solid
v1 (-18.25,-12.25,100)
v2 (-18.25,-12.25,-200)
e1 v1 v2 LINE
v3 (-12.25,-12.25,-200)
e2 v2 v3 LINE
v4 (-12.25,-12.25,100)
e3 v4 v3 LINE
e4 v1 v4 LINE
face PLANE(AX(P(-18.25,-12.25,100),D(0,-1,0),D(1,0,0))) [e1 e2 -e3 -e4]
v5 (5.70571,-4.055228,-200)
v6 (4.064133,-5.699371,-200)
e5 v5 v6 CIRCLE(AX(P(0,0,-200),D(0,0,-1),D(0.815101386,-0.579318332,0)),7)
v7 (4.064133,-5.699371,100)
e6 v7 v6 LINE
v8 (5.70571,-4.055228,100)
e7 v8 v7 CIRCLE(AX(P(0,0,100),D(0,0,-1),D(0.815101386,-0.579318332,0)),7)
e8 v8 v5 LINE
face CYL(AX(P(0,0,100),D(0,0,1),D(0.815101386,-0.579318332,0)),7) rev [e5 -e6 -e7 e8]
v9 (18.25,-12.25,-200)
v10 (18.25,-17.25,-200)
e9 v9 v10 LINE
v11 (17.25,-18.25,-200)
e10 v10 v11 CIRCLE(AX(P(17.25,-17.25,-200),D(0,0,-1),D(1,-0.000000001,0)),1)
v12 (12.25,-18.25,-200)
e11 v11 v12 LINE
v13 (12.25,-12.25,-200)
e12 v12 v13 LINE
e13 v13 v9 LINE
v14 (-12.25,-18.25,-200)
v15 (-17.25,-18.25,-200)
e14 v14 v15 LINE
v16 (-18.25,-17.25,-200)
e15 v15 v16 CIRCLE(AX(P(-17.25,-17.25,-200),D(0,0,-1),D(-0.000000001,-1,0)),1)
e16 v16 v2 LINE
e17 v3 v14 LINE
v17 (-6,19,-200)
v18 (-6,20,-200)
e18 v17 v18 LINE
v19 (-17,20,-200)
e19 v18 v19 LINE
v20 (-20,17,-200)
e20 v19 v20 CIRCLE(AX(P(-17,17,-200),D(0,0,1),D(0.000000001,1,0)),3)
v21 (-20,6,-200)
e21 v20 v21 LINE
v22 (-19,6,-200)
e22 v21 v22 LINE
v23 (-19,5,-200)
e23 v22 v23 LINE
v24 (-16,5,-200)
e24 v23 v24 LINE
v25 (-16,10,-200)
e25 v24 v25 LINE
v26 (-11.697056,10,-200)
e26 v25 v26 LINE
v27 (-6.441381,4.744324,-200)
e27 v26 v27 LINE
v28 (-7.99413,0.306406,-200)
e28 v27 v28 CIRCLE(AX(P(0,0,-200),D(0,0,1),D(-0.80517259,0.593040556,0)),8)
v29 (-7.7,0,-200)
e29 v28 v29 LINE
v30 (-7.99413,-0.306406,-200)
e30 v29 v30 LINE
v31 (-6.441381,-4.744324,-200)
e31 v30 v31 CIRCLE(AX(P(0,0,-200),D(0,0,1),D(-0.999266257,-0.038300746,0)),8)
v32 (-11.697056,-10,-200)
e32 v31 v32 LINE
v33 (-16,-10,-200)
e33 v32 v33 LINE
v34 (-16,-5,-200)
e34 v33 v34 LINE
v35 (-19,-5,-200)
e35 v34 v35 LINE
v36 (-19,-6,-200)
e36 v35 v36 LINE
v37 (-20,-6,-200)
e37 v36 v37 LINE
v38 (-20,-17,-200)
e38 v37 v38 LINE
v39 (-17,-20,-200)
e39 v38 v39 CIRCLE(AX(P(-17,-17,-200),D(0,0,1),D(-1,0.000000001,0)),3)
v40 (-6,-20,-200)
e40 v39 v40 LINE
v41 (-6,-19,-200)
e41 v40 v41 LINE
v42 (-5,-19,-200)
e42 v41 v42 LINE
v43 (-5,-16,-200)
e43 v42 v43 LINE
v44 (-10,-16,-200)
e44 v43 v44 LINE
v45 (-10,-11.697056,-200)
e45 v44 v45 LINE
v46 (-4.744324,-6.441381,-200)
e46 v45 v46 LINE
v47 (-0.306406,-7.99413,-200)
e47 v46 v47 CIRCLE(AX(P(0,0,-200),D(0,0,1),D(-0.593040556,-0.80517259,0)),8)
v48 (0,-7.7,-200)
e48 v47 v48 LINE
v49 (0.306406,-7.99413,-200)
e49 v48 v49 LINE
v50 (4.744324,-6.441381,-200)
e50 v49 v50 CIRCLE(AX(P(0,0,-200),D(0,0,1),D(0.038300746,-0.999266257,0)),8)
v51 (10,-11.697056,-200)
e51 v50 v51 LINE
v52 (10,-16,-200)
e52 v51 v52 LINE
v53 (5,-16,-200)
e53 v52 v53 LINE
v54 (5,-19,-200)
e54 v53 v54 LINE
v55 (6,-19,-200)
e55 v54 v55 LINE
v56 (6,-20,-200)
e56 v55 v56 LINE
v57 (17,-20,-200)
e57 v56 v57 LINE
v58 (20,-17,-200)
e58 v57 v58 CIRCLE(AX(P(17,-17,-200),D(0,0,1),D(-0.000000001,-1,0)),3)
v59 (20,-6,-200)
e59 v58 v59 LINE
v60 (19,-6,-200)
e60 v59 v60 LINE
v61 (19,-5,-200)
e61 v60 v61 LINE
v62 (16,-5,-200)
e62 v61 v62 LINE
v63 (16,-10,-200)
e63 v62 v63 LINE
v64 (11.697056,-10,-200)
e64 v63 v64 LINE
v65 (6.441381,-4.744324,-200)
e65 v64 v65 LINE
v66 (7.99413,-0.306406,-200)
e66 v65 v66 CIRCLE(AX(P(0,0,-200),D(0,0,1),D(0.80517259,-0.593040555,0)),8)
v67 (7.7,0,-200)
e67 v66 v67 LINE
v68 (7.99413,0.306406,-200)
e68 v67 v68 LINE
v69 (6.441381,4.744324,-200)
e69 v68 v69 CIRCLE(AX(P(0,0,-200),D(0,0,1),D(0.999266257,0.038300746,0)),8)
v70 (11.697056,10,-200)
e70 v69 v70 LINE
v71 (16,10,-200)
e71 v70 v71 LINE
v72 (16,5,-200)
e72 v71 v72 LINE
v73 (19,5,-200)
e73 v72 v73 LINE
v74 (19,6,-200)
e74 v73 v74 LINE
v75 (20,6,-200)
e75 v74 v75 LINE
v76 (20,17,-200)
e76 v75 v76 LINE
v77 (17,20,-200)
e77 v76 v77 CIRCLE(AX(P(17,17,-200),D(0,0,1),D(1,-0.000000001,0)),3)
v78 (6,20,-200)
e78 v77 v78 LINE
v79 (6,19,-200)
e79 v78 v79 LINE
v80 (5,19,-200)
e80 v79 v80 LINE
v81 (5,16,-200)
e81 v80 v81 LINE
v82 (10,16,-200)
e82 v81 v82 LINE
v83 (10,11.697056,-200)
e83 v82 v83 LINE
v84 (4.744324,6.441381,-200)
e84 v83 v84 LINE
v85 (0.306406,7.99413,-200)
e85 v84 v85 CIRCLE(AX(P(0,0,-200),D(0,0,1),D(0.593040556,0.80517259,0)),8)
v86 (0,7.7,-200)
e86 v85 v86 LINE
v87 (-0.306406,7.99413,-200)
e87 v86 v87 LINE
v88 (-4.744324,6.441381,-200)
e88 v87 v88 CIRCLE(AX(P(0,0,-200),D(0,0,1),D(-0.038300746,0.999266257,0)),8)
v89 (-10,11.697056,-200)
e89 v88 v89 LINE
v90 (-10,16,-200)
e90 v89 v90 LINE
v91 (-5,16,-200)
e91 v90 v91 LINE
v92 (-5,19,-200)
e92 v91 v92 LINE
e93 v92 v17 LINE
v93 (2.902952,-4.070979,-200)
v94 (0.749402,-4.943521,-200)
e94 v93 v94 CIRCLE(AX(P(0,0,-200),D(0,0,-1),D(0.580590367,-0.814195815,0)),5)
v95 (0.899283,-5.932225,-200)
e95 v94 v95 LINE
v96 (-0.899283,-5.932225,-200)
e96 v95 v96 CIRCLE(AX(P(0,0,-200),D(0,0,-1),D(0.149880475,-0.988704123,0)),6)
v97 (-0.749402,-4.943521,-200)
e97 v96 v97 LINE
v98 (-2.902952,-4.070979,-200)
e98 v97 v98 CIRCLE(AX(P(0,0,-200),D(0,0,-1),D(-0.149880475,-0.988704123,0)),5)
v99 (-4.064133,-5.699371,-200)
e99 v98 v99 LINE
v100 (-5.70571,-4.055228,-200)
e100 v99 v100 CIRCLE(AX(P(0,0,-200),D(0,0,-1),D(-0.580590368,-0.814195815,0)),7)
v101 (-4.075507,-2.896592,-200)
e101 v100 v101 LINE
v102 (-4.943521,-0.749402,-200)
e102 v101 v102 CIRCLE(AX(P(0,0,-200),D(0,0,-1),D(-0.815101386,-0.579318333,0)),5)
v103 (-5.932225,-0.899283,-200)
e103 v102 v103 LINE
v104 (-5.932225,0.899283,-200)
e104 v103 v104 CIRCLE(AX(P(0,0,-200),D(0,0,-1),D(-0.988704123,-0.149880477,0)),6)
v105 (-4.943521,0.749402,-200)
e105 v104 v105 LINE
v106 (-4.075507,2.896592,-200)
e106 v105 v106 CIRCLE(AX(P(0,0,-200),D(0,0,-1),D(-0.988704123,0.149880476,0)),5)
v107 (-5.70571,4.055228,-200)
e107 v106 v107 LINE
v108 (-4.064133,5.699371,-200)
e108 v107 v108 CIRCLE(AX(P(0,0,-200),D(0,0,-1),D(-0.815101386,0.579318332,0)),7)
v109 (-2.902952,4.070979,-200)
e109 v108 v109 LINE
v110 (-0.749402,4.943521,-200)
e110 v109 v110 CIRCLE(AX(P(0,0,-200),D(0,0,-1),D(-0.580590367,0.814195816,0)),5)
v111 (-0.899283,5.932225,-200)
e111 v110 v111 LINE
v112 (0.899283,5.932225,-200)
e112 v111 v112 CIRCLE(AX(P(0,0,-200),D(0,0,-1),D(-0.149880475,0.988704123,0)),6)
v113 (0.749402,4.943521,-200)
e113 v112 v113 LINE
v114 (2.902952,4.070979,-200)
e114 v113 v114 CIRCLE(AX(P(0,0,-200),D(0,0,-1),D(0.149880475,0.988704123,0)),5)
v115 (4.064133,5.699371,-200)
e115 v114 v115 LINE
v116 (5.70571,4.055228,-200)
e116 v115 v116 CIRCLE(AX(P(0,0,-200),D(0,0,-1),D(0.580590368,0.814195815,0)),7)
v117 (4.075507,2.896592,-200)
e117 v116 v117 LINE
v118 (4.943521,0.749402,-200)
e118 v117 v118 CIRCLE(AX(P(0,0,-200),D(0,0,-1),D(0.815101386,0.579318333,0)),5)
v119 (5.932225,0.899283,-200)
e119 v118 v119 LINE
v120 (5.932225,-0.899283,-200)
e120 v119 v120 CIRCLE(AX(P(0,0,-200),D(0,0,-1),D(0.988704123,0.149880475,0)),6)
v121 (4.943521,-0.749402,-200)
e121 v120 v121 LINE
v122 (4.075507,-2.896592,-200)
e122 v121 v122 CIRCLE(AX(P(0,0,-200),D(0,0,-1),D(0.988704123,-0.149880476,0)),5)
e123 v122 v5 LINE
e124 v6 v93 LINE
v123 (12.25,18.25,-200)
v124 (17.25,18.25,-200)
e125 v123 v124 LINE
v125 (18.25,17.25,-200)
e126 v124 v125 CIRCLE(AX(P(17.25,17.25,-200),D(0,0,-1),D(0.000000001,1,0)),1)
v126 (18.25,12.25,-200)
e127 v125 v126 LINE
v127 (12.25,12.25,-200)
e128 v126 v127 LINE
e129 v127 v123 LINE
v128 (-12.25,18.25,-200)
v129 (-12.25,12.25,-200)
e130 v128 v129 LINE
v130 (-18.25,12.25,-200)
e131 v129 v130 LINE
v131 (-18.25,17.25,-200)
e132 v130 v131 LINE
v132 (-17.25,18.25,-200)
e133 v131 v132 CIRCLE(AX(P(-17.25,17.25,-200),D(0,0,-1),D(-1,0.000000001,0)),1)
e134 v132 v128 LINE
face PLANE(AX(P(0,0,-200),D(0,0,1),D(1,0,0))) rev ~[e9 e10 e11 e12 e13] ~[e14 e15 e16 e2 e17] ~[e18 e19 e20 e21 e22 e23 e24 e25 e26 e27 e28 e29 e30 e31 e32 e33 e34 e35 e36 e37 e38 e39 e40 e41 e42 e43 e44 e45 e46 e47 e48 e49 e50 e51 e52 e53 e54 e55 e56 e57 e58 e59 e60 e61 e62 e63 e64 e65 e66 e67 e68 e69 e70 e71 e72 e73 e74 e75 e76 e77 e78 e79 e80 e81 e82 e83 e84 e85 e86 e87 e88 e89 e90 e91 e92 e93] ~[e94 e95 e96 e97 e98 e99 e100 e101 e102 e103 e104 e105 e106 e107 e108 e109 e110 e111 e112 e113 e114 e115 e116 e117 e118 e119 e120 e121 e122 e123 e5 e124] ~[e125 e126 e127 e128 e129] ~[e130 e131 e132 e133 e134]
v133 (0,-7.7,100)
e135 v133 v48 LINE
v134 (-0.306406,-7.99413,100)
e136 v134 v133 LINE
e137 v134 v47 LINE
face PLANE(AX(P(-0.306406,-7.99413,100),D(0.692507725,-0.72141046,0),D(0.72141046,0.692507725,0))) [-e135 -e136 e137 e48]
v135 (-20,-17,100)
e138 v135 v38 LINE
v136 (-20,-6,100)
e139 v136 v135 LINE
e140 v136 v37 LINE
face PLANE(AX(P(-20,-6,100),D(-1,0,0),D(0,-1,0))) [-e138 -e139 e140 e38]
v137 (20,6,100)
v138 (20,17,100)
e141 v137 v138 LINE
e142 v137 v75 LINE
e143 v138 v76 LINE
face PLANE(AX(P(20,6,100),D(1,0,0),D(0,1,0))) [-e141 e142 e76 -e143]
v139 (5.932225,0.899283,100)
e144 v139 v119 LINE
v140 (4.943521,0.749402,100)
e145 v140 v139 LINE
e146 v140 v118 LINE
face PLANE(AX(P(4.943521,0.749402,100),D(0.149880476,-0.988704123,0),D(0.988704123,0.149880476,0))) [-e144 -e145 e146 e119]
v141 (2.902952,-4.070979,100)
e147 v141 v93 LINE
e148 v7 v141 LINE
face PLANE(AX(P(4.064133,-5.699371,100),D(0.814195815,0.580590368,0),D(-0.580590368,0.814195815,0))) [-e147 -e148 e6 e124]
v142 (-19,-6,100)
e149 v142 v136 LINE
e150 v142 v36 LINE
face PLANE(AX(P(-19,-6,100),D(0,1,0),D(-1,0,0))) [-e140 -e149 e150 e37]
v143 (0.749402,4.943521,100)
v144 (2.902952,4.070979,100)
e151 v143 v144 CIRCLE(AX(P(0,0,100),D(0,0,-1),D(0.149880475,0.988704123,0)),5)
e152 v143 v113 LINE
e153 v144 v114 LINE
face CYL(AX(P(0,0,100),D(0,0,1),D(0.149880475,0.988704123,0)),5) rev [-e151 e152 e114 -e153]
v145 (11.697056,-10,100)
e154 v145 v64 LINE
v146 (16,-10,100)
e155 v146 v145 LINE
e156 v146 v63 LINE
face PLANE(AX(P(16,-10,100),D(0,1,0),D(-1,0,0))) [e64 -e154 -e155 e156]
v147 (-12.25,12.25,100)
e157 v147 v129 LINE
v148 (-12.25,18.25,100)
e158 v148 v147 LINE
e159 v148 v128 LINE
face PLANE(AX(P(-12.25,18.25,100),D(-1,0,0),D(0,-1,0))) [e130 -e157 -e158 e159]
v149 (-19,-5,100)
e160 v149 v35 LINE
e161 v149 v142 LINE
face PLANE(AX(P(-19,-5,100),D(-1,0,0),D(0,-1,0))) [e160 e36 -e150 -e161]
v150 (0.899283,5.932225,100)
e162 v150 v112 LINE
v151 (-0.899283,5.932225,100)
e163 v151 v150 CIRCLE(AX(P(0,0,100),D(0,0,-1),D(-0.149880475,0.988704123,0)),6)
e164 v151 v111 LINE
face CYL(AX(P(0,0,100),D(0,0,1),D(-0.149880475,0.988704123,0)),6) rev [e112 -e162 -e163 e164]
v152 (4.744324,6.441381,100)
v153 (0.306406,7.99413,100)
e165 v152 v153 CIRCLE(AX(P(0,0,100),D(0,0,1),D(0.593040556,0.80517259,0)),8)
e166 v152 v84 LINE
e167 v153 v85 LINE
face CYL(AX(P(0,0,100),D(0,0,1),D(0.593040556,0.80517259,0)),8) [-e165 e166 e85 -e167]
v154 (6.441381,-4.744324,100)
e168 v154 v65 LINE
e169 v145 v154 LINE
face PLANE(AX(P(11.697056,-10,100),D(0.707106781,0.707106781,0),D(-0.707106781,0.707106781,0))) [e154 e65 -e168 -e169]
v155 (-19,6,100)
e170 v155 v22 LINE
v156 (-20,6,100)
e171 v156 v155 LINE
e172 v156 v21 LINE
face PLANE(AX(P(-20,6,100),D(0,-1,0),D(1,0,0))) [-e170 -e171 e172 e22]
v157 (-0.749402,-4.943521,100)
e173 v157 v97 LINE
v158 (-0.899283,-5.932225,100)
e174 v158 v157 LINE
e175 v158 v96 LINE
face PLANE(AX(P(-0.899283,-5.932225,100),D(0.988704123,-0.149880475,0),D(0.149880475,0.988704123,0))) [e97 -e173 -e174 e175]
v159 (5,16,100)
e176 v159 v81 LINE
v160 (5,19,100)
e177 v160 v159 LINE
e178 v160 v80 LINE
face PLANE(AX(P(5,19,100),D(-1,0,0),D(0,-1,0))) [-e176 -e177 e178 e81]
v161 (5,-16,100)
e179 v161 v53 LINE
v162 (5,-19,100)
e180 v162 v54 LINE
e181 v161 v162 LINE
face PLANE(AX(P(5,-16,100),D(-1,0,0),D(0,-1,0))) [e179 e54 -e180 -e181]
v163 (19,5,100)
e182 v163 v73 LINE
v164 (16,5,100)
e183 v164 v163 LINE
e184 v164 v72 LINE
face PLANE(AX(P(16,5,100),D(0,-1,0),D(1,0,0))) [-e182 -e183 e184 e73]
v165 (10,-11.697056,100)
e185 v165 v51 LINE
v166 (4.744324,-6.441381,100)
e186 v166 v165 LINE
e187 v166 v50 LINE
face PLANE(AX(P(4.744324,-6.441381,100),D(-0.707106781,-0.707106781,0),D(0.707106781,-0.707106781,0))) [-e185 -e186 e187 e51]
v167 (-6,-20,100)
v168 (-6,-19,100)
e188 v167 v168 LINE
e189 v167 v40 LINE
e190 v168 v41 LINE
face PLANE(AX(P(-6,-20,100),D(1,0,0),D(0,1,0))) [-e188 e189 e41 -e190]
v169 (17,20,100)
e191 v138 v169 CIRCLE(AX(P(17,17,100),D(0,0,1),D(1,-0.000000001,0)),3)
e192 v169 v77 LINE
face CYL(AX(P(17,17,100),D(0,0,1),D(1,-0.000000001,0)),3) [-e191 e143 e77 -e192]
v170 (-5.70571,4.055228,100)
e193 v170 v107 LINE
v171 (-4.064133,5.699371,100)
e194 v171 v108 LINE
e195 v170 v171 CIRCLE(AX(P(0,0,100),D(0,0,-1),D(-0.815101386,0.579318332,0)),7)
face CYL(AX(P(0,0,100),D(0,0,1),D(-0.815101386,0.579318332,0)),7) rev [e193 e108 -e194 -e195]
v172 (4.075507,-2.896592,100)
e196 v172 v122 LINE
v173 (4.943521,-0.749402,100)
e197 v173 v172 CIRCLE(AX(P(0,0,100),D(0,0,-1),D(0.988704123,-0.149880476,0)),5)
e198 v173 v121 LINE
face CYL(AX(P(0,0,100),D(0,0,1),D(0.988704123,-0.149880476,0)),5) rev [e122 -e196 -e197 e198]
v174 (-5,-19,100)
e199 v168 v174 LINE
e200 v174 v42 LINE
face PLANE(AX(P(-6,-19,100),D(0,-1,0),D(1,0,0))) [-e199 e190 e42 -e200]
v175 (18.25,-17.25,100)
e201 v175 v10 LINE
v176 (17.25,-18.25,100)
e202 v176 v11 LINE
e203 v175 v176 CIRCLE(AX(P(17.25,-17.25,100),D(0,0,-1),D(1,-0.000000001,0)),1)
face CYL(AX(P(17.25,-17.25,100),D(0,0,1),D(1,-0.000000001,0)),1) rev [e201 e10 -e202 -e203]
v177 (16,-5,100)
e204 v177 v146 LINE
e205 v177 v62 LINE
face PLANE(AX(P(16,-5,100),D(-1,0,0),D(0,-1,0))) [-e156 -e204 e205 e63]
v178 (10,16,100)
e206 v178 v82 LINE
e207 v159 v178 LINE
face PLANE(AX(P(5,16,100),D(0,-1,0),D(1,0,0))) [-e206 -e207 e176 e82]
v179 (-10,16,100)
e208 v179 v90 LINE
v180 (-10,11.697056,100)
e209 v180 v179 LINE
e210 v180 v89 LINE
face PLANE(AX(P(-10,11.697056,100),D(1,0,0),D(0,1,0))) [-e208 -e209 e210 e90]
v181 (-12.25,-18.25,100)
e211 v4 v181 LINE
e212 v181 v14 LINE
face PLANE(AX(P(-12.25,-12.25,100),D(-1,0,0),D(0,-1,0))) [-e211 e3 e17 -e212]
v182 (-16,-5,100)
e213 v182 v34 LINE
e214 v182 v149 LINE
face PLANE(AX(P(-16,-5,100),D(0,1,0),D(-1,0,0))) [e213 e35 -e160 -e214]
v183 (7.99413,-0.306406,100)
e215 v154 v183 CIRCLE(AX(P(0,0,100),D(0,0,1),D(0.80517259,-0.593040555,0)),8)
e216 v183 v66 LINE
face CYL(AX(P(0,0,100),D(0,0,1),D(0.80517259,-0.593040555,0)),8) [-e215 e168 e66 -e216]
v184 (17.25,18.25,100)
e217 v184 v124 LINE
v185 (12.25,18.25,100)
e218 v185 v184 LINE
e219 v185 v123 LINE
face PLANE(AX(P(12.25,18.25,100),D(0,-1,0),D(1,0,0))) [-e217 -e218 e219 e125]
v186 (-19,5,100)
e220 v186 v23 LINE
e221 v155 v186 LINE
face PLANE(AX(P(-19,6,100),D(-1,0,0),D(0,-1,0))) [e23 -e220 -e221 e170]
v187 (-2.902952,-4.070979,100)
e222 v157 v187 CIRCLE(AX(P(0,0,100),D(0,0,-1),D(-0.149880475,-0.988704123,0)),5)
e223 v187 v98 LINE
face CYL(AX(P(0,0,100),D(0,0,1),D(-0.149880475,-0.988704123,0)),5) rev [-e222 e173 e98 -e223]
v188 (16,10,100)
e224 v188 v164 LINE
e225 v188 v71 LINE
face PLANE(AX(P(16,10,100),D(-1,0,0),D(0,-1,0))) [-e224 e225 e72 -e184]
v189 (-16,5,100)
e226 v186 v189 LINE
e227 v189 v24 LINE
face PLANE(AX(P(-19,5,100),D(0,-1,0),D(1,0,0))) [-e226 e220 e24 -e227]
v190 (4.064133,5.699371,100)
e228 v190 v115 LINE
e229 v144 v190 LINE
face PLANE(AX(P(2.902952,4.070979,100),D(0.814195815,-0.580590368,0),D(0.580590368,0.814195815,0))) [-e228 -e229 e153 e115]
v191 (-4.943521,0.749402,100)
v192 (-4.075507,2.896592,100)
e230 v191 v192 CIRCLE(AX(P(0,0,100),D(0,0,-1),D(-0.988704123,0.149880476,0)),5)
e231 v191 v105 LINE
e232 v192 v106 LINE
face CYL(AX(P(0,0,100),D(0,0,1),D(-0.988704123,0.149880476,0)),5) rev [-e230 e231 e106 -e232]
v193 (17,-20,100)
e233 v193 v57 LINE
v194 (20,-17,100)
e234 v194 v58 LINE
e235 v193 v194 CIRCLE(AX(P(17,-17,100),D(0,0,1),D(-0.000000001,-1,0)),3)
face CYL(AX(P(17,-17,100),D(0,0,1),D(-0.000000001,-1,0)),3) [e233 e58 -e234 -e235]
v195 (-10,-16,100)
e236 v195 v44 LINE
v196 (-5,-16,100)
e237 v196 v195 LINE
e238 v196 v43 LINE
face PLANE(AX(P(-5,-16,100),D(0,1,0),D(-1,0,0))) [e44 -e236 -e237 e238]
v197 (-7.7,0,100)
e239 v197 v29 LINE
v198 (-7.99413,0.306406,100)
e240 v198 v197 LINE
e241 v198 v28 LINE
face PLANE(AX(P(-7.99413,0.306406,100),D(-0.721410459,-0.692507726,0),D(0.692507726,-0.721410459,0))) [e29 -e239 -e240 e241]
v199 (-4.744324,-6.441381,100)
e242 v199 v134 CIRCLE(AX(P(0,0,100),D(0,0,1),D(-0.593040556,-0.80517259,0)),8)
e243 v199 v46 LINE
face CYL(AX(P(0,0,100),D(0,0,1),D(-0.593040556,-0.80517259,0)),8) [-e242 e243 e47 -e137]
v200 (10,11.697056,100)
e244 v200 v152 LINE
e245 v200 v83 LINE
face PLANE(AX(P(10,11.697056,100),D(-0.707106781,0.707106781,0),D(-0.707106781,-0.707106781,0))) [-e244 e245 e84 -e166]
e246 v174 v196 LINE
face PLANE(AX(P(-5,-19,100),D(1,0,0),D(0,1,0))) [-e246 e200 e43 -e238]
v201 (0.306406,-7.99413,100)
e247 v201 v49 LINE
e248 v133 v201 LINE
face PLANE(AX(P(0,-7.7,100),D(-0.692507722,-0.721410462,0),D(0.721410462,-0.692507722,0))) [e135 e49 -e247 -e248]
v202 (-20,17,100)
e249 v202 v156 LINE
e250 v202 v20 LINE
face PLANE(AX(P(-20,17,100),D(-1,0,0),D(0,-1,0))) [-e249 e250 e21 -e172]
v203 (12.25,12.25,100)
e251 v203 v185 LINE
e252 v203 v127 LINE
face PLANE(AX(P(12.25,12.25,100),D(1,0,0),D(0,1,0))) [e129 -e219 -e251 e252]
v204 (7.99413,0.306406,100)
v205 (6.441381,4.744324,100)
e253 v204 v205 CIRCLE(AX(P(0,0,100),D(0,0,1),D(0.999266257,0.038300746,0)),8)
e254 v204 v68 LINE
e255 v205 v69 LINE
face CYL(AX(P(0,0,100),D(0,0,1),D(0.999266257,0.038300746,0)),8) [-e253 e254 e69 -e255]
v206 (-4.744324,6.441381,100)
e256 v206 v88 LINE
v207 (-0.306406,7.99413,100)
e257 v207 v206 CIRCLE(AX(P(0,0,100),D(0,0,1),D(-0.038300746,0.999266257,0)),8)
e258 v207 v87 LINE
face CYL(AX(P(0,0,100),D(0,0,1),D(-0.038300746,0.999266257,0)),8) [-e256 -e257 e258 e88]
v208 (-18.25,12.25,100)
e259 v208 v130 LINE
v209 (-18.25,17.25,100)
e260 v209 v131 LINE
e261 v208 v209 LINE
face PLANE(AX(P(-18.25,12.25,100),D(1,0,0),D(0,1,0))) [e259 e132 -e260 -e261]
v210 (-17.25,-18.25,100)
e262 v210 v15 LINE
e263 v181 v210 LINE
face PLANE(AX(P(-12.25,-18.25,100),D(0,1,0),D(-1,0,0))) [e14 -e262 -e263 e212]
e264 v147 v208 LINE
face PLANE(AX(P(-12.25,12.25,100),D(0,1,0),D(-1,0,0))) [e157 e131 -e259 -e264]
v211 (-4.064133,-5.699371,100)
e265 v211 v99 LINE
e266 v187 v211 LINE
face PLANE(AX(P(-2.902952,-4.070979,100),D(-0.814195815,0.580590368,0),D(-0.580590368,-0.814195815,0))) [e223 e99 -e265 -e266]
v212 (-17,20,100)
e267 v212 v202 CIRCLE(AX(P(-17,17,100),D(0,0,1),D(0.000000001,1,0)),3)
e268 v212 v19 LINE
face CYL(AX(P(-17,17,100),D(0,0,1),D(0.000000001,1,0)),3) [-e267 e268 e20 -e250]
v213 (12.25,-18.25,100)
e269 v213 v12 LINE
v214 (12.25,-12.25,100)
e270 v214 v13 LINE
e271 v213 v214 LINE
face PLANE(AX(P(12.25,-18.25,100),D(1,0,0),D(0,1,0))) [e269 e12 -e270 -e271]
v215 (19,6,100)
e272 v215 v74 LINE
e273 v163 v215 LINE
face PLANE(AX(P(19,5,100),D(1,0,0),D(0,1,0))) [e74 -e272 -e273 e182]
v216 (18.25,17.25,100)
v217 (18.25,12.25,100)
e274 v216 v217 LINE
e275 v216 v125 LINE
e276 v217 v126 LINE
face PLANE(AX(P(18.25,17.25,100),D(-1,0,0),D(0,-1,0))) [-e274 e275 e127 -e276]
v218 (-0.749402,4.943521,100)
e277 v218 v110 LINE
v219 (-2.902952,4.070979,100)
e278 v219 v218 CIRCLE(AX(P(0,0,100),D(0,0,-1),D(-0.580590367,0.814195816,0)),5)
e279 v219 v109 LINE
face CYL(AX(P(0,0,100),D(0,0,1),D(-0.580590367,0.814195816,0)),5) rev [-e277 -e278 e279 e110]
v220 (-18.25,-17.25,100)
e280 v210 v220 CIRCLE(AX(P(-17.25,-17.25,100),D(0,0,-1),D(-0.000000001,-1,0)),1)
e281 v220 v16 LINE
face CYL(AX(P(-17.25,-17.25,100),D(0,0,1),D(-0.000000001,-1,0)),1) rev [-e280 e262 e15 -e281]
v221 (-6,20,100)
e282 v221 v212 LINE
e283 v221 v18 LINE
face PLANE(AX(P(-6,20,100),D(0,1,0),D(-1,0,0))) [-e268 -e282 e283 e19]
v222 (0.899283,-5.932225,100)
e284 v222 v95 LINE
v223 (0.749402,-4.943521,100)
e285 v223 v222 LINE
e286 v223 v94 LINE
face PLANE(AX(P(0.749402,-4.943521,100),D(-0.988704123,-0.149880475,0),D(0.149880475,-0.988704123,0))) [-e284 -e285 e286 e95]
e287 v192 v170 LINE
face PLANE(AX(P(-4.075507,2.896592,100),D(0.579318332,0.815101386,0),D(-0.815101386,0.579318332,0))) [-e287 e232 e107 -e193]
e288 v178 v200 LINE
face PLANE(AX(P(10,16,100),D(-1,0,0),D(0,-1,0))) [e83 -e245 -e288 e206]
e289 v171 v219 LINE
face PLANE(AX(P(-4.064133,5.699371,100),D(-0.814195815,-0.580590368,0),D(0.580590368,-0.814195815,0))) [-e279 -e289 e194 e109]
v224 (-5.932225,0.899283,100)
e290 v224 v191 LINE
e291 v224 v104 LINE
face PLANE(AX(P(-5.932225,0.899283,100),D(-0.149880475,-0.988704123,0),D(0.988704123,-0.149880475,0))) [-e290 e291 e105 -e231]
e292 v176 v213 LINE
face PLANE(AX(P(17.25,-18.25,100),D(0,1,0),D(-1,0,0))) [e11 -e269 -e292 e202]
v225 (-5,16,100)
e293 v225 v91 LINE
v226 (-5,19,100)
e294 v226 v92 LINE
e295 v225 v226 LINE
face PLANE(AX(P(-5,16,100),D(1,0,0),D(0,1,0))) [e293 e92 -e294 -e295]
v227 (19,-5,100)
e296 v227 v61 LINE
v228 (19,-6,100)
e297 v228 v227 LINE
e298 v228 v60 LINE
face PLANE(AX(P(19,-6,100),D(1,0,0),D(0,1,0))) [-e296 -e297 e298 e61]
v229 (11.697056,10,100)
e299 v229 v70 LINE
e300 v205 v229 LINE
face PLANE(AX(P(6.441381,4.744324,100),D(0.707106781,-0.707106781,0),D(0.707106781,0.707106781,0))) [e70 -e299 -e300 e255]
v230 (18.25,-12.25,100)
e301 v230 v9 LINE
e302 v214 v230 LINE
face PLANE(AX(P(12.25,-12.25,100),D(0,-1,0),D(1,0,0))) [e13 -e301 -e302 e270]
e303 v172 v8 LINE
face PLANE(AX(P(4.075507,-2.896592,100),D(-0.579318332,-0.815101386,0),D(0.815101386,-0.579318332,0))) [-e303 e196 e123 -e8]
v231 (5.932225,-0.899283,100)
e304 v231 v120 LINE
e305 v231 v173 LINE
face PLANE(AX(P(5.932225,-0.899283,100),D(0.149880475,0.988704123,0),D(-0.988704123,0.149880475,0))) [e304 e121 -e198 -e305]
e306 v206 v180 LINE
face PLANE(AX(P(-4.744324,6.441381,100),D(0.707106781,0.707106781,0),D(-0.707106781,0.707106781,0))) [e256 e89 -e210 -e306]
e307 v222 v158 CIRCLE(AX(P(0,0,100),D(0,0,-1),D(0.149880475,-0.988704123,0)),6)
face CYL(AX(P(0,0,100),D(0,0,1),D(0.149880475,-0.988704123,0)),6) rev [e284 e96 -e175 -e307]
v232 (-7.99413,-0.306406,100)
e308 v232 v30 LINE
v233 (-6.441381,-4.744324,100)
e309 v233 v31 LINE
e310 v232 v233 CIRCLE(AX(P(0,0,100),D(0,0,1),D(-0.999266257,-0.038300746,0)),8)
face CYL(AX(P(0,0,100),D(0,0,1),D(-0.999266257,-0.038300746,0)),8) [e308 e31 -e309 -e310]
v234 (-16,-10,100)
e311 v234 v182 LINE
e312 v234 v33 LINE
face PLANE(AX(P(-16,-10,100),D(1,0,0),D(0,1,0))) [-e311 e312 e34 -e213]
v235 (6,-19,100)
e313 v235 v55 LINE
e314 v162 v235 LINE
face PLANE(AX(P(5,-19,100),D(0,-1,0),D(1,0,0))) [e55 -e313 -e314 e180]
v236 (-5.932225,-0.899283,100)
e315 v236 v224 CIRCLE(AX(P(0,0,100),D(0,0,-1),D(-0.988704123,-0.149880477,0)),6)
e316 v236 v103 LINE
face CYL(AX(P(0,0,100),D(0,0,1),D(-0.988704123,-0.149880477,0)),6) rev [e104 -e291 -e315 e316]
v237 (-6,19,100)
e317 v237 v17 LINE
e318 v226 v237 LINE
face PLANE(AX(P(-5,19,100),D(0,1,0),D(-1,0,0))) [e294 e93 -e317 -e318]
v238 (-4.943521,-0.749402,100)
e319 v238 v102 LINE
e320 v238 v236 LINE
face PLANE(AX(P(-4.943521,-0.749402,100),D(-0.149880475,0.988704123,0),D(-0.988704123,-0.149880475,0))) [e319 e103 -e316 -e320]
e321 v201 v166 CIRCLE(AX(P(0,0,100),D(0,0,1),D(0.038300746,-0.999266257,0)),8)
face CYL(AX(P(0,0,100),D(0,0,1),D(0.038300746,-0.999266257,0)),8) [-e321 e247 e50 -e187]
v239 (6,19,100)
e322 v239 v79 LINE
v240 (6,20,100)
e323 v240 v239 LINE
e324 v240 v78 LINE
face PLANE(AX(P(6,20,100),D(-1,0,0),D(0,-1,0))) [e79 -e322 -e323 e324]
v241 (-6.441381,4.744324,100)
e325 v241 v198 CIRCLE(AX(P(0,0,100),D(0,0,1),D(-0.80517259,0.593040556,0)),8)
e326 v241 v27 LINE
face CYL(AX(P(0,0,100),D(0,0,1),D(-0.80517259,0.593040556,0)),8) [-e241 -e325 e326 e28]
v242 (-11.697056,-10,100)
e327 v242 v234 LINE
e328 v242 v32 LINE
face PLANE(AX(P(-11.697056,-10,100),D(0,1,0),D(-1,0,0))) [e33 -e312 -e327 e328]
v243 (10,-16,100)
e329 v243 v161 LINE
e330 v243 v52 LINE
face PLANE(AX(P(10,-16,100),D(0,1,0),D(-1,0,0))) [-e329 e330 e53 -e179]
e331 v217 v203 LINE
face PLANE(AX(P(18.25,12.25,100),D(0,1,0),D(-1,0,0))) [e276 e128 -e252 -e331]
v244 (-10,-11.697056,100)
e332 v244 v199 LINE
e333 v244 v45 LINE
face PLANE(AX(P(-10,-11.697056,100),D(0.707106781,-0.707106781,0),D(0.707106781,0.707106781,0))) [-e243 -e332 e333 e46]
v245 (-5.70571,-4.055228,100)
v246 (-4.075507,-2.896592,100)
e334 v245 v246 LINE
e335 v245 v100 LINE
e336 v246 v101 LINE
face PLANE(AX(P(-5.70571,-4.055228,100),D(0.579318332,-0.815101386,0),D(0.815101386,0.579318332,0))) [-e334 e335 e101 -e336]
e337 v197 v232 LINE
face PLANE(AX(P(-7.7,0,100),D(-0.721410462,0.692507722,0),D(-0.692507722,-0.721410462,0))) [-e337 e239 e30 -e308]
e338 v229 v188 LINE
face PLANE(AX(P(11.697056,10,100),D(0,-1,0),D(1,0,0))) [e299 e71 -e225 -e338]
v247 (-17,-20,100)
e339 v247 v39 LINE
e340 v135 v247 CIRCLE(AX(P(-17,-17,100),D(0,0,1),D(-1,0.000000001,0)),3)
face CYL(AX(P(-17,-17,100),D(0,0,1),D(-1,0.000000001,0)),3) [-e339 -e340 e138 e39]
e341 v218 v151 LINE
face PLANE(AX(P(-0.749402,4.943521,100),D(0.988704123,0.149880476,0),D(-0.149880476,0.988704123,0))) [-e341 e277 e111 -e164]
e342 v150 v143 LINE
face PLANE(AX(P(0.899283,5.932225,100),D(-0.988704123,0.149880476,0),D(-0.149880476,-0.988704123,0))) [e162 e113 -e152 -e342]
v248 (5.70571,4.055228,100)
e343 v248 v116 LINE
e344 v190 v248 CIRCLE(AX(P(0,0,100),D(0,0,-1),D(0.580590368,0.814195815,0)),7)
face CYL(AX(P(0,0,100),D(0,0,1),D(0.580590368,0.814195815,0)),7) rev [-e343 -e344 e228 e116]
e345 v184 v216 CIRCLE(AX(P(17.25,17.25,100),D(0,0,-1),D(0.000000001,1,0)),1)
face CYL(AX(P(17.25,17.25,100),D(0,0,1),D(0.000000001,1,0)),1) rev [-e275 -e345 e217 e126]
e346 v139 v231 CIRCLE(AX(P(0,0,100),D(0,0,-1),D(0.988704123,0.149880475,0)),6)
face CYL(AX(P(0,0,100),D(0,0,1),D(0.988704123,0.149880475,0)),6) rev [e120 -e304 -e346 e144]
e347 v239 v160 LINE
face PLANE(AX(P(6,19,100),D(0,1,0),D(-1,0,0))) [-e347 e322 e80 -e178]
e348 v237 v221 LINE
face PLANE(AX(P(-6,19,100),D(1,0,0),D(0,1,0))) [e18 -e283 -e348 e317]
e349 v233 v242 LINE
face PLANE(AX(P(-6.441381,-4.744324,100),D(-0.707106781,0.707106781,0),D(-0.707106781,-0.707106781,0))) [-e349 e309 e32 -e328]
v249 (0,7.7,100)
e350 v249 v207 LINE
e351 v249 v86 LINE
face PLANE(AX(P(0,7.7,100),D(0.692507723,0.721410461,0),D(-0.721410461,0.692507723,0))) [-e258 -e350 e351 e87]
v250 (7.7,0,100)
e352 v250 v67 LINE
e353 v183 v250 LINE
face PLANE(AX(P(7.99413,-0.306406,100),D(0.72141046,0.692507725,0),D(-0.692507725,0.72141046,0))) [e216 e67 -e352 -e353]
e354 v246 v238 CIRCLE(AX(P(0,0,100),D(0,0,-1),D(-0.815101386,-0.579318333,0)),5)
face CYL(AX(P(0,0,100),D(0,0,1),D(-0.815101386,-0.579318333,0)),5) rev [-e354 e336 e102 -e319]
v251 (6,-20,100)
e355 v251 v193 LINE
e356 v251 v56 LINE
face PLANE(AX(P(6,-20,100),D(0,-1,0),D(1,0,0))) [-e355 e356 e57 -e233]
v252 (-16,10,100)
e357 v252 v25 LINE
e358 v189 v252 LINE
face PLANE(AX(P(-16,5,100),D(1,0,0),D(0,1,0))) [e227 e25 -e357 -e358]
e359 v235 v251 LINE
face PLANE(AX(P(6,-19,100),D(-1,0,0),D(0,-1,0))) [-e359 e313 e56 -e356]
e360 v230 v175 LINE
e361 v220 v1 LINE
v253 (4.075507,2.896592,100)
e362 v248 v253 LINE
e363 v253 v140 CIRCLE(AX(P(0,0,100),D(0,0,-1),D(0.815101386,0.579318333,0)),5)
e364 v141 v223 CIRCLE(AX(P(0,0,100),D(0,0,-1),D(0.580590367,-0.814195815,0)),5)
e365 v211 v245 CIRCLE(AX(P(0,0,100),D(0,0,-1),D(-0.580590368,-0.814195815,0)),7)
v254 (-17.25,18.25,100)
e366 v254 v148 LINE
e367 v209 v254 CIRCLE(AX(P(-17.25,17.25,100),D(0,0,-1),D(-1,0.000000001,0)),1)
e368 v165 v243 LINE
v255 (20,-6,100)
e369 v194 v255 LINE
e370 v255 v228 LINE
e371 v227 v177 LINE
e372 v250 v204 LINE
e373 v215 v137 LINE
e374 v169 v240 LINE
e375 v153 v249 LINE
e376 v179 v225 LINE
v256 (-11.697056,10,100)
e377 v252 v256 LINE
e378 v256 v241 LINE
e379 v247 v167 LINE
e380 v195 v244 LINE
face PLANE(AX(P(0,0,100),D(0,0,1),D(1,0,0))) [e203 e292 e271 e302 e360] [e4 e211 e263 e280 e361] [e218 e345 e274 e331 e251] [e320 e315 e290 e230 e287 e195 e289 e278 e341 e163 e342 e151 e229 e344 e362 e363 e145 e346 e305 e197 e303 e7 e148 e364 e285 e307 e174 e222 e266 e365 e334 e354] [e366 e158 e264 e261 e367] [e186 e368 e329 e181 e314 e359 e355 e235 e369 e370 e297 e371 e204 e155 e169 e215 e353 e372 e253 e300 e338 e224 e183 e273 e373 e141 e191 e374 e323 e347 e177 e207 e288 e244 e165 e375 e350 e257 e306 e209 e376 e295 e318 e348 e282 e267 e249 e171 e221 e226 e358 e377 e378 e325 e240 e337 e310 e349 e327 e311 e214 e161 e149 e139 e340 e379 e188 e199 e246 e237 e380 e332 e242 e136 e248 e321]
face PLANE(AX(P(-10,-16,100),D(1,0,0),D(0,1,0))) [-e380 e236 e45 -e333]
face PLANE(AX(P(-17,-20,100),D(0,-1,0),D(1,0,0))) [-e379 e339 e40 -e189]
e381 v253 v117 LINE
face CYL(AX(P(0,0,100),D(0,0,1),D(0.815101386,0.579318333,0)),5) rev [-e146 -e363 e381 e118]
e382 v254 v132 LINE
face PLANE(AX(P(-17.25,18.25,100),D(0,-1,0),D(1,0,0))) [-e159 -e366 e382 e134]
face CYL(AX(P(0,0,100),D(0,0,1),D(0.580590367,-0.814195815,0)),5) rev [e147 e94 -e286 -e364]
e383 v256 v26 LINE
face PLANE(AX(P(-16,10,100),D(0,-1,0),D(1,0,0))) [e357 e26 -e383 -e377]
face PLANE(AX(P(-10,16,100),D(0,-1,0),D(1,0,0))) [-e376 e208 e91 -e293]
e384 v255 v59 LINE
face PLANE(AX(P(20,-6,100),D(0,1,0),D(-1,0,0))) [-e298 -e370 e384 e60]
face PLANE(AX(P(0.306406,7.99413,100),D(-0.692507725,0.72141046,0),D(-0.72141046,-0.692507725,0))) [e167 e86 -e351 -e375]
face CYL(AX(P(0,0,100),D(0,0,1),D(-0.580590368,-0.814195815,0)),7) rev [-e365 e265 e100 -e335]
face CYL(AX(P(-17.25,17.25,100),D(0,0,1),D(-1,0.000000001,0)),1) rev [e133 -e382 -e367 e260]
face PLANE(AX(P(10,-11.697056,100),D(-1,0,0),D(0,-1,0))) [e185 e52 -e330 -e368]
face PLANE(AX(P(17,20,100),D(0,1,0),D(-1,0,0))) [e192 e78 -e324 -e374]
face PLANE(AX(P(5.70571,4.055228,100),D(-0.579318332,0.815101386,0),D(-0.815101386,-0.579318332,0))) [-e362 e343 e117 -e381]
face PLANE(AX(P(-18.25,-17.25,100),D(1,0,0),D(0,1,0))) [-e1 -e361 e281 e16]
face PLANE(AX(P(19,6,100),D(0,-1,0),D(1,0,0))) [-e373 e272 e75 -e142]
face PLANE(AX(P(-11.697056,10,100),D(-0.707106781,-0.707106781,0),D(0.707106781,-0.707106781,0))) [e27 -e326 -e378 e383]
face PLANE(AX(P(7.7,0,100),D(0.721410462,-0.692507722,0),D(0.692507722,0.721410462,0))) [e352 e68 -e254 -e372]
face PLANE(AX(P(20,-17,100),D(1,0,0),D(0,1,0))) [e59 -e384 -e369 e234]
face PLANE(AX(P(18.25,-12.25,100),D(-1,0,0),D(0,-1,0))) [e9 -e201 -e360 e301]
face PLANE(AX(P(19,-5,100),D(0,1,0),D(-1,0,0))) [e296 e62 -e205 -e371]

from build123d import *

# Parameters (mm, degrees)
BOSS_EXTRU_1_DEPTH = 300


with BuildPart() as part:
    # Esquisse1 → Boss.-Extru.1 (new body)
    with BuildSketch(Plane.XY.offset(100)):
        with BuildLine():
            Line((6, -19), (6, -20))
            Line((6, -20), (17, -20))
            ThreePointArc((17, -20), (19.121320344, -19.121320344), (20, -17))
            Line((20, -17), (20, -6))
            Line((20, -6), (19, -6))
            Line((19, -6), (19, -5))
            Line((19, -5), (16, -5))
            Line((16, -5), (16, -10))
            Line((16, -10), (11.697056276, -10))
            Line((11.697056276, -10), (6.44138072, -4.744324444))
            ThreePointArc((6.44138072, -4.744324444), (7.551143817, -2.642011933), (7.994130058, -0.306405969))
            Line((7.994130058, -0.306405969), (7.7, 0))
            Line((7.7, 0), (7.994130058, 0.306405971))
            ThreePointArc((7.994130058, 0.306405971), (7.551143817, 2.642011934), (6.441380719, 4.744324444))
            Line((6.441380719, 4.744324444), (11.697056275, 10))
            Line((11.697056275, 10), (16, 10))
            Line((16, 10), (16, 5))
            Line((16, 5), (19, 5))
            Line((19, 5), (19, 6))
            Line((19, 6), (20, 6))
            Line((20, 6), (20, 17))
            ThreePointArc((20, 17), (19.121320344, 19.121320344), (17, 20))
            Line((17, 20), (6, 20))
            Line((6, 20), (6, 19))
            Line((6, 19), (5, 19))
            Line((5, 19), (5, 15.999999999))
            Line((5, 15.999999999), (10.000000001, 15.999999999))
            Line((10.000000001, 15.999999999), (10.000000001, 11.697056275))
            Line((10.000000001, 11.697056275), (4.744324444, 6.441380719))
            ThreePointArc((4.744324444, 6.441380719), (2.642011933, 7.551143817), (0.306405969, 7.994130058))
            Line((0.306405969, 7.994130058), (0, 7.7))
            Line((0, 7.7), (-0.30640597, 7.994130058))
            ThreePointArc((-0.30640597, 7.994130058), (-2.642011933, 7.551143817), (-4.744324444, 6.441380719))
            Line((-4.744324444, 6.441380719), (-9.999999999, 11.697056274))
            Line((-9.999999999, 11.697056274), (-9.999999999, 15.999999999))
            Line((-9.999999999, 15.999999999), (-5, 15.999999999))
            Line((-5, 15.999999999), (-5, 19))
            Line((-5, 19), (-6, 19))
            Line((-6, 19), (-6, 20))
            Line((-6, 20), (-17, 20))
            ThreePointArc((-17, 20), (-19.121320344, 19.121320344), (-20, 17))
            Line((-20, 17), (-20, 6))
            Line((-20, 6), (-19, 6))
            Line((-19, 6), (-19, 5))
            Line((-19, 5), (-16, 5))
            Line((-16, 5), (-16, 10))
            Line((-16, 10), (-11.697056274, 10))
            Line((-11.697056274, 10), (-6.441380718, 4.744324445))
            ThreePointArc((-6.441380718, 4.744324445), (-7.551143817, 2.642011933), (-7.994130058, 0.306405969))
            Line((-7.994130058, 0.306405969), (-7.699999999, 0))
            Line((-7.699999999, 0), (-7.994130057, -0.306405971))
            ThreePointArc((-7.994130057, -0.306405971), (-7.551143816, -2.642011934), (-6.441380719, -4.744324444))
            Line((-6.441380719, -4.744324444), (-11.697056275, -10))
            Line((-11.697056275, -10), (-16, -10))
            Line((-16, -10), (-16, -5))
            Line((-16, -5), (-19, -5))
            Line((-19, -5), (-19, -6))
            Line((-19, -6), (-20, -6))
            Line((-20, -6), (-20, -17))
            ThreePointArc((-20, -17), (-19.121320344, -19.121320344), (-17, -20))
            Line((-17, -20), (-6, -20))
            Line((-6, -20), (-6, -19))
            Line((-6, -19), (-5, -19))
            Line((-5, -19), (-5, -16.000000001))
            Line((-5, -16.000000001), (-9.999999999, -16.000000001))
            Line((-9.999999999, -16.000000001), (-9.999999999, -11.697056274))
            Line((-9.999999999, -11.697056274), (-4.744324444, -6.441380719))
            ThreePointArc((-4.744324444, -6.441380719), (-2.642011933, -7.551143817), (-0.306405969, -7.994130058))
            Line((-0.306405969, -7.994130058), (0, -7.7))
            Line((0, -7.7), (0.306405971, -7.994130058))
            ThreePointArc((0.306405971, -7.994130058), (2.642011934, -7.551143817), (4.744324445, -6.441380719))
            Line((4.744324445, -6.441380719), (10.000000001, -11.697056274))
            Line((10.000000001, -11.697056274), (10.000000001, -16.000000001))
            Line((10.000000001, -16.000000001), (5, -16.000000001))
            Line((5, -16.000000001), (5, -19))
            Line((5, -19), (6, -19))
        make_face()
        with BuildLine():
            Line((18.25, 12.25), (12.25, 12.25))
            Line((12.25, 12.25), (12.25, 18.25))
            Line((12.25, 18.25), (17.25, 18.25))
            ThreePointArc((17.25, 18.25), (17.957106781, 17.957106781), (18.25, 17.25))
            Line((18.25, 17.25), (18.25, 12.25))
        make_face(mode=Mode.SUBTRACT)
        with BuildLine():
            Line((-18.25, -12.25), (-12.25, -12.25))
            Line((-12.25, -12.25), (-12.25, -18.25))
            Line((-12.25, -18.25), (-17.25, -18.25))
            ThreePointArc((-17.25, -18.25), (-17.957106781, -17.957106781), (-18.25, -17.25))
            Line((-18.25, -17.25), (-18.25, -12.25))
        make_face(mode=Mode.SUBTRACT)
        with BuildLine():
            Line((-12.25, 18.25), (-12.25, 12.25))
            Line((-12.25, 12.25), (-18.25, 12.25))
            Line((-18.25, 12.25), (-18.25, 17.25))
            ThreePointArc((-18.25, 17.25), (-17.957106781, 17.957106781), (-17.25, 18.25))
            Line((-17.25, 18.25), (-12.25, 18.25))
        make_face(mode=Mode.SUBTRACT)
        with BuildLine():
            Line((12.25, -18.25), (12.25, -12.25))
            Line((12.25, -12.25), (18.25, -12.25))
            Line((18.25, -12.25), (18.25, -17.25))
            ThreePointArc((18.25, -17.25), (17.957106781, -17.957106781), (17.25, -18.25))
            Line((17.25, -18.25), (12.25, -18.25))
        make_face(mode=Mode.SUBTRACT)
        with BuildLine():
            Line((-5.705709703, -4.055228326), (-4.075506937, -2.896591666))
            ThreePointArc((-4.075506937, -2.896591666), (-4.635549589, -1.873947727), (-4.943520622, -0.749402378))
            Line((-4.943520622, -0.749402378), (-5.932224738, -0.899282852))
            ThreePointArc((-5.932224738, -0.899282852), (-6, 0), (-5.932224738, 0.899282853))
            Line((-5.932224738, 0.899282853), (-4.943520622, 0.749402379))
            ThreePointArc((-4.943520622, 0.749402379), (-4.635549588, 1.873947727), (-4.075506937, 2.896591666))
            Line((-4.075506937, 2.896591666), (-5.705709704, 4.055228326))
            ThreePointArc((-5.705709704, 4.055228326), (-4.953610357, 4.945881563), (-4.064132573, 5.699370705))
            Line((-4.064132573, 5.699370705), (-2.902951842, 4.070979081))
            ThreePointArc((-2.902951842, 4.070979081), (-1.877566249, 4.634085136), (-0.749402377, 4.943520623))
            Line((-0.749402377, 4.943520623), (-0.899282852, 5.932224739))
            ThreePointArc((-0.899282852, 5.932224739), (0, 6), (0.899282852, 5.932224739))
            Line((0.899282852, 5.932224739), (0.749402377, 4.943520623))
            ThreePointArc((0.749402377, 4.943520623), (1.87756625, 4.634085136), (2.902951843, 4.07097908))
            Line((2.902951843, 4.07097908), (4.064132575, 5.699370704))
            ThreePointArc((4.064132575, 5.699370704), (4.953610358, 4.945881562), (5.705709704, 4.055228326))
            Line((5.705709704, 4.055228326), (4.075506937, 2.896591666))
            ThreePointArc((4.075506937, 2.896591666), (4.635549589, 1.873947727), (4.943520623, 0.749402378))
            Line((4.943520623, 0.749402378), (5.932224739, 0.899282853))
            ThreePointArc((5.932224739, 0.899282853), (6, 0), (5.932224739, -0.899282853))
            Line((5.932224739, -0.899282853), (4.943520623, -0.749402379))
            ThreePointArc((4.943520623, -0.749402379), (4.635549589, -1.873947727), (4.075506938, -2.896591666))
            Line((4.075506938, -2.896591666), (5.705709704, -4.055228326))
            ThreePointArc((5.705709704, -4.055228326), (4.953610357, -4.945881563), (4.064132573, -5.699370705))
            Line((4.064132573, -5.699370705), (2.902951842, -4.070979081))
            ThreePointArc((2.902951842, -4.070979081), (1.87756625, -4.634085136), (0.749402378, -4.943520623))
            Line((0.749402378, -4.943520623), (0.899282852, -5.932224739))
            ThreePointArc((0.899282852, -5.932224739), (1e-09, -6), (-0.899282851, -5.932224739))
            Line((-0.899282851, -5.932224739), (-0.749402377, -4.943520623))
            ThreePointArc((-0.749402377, -4.943520623), (-1.87756625, -4.634085136), (-2.902951843, -4.07097908))
            Line((-2.902951843, -4.07097908), (-4.064132574, -5.699370704))
            ThreePointArc((-4.064132574, -5.699370704), (-4.953610357, -4.945881562), (-5.705709703, -4.055228326))
        make_face(mode=Mode.SUBTRACT)
    extrude(amount=-BOSS_EXTRU_1_DEPTH)


solid = part.part
